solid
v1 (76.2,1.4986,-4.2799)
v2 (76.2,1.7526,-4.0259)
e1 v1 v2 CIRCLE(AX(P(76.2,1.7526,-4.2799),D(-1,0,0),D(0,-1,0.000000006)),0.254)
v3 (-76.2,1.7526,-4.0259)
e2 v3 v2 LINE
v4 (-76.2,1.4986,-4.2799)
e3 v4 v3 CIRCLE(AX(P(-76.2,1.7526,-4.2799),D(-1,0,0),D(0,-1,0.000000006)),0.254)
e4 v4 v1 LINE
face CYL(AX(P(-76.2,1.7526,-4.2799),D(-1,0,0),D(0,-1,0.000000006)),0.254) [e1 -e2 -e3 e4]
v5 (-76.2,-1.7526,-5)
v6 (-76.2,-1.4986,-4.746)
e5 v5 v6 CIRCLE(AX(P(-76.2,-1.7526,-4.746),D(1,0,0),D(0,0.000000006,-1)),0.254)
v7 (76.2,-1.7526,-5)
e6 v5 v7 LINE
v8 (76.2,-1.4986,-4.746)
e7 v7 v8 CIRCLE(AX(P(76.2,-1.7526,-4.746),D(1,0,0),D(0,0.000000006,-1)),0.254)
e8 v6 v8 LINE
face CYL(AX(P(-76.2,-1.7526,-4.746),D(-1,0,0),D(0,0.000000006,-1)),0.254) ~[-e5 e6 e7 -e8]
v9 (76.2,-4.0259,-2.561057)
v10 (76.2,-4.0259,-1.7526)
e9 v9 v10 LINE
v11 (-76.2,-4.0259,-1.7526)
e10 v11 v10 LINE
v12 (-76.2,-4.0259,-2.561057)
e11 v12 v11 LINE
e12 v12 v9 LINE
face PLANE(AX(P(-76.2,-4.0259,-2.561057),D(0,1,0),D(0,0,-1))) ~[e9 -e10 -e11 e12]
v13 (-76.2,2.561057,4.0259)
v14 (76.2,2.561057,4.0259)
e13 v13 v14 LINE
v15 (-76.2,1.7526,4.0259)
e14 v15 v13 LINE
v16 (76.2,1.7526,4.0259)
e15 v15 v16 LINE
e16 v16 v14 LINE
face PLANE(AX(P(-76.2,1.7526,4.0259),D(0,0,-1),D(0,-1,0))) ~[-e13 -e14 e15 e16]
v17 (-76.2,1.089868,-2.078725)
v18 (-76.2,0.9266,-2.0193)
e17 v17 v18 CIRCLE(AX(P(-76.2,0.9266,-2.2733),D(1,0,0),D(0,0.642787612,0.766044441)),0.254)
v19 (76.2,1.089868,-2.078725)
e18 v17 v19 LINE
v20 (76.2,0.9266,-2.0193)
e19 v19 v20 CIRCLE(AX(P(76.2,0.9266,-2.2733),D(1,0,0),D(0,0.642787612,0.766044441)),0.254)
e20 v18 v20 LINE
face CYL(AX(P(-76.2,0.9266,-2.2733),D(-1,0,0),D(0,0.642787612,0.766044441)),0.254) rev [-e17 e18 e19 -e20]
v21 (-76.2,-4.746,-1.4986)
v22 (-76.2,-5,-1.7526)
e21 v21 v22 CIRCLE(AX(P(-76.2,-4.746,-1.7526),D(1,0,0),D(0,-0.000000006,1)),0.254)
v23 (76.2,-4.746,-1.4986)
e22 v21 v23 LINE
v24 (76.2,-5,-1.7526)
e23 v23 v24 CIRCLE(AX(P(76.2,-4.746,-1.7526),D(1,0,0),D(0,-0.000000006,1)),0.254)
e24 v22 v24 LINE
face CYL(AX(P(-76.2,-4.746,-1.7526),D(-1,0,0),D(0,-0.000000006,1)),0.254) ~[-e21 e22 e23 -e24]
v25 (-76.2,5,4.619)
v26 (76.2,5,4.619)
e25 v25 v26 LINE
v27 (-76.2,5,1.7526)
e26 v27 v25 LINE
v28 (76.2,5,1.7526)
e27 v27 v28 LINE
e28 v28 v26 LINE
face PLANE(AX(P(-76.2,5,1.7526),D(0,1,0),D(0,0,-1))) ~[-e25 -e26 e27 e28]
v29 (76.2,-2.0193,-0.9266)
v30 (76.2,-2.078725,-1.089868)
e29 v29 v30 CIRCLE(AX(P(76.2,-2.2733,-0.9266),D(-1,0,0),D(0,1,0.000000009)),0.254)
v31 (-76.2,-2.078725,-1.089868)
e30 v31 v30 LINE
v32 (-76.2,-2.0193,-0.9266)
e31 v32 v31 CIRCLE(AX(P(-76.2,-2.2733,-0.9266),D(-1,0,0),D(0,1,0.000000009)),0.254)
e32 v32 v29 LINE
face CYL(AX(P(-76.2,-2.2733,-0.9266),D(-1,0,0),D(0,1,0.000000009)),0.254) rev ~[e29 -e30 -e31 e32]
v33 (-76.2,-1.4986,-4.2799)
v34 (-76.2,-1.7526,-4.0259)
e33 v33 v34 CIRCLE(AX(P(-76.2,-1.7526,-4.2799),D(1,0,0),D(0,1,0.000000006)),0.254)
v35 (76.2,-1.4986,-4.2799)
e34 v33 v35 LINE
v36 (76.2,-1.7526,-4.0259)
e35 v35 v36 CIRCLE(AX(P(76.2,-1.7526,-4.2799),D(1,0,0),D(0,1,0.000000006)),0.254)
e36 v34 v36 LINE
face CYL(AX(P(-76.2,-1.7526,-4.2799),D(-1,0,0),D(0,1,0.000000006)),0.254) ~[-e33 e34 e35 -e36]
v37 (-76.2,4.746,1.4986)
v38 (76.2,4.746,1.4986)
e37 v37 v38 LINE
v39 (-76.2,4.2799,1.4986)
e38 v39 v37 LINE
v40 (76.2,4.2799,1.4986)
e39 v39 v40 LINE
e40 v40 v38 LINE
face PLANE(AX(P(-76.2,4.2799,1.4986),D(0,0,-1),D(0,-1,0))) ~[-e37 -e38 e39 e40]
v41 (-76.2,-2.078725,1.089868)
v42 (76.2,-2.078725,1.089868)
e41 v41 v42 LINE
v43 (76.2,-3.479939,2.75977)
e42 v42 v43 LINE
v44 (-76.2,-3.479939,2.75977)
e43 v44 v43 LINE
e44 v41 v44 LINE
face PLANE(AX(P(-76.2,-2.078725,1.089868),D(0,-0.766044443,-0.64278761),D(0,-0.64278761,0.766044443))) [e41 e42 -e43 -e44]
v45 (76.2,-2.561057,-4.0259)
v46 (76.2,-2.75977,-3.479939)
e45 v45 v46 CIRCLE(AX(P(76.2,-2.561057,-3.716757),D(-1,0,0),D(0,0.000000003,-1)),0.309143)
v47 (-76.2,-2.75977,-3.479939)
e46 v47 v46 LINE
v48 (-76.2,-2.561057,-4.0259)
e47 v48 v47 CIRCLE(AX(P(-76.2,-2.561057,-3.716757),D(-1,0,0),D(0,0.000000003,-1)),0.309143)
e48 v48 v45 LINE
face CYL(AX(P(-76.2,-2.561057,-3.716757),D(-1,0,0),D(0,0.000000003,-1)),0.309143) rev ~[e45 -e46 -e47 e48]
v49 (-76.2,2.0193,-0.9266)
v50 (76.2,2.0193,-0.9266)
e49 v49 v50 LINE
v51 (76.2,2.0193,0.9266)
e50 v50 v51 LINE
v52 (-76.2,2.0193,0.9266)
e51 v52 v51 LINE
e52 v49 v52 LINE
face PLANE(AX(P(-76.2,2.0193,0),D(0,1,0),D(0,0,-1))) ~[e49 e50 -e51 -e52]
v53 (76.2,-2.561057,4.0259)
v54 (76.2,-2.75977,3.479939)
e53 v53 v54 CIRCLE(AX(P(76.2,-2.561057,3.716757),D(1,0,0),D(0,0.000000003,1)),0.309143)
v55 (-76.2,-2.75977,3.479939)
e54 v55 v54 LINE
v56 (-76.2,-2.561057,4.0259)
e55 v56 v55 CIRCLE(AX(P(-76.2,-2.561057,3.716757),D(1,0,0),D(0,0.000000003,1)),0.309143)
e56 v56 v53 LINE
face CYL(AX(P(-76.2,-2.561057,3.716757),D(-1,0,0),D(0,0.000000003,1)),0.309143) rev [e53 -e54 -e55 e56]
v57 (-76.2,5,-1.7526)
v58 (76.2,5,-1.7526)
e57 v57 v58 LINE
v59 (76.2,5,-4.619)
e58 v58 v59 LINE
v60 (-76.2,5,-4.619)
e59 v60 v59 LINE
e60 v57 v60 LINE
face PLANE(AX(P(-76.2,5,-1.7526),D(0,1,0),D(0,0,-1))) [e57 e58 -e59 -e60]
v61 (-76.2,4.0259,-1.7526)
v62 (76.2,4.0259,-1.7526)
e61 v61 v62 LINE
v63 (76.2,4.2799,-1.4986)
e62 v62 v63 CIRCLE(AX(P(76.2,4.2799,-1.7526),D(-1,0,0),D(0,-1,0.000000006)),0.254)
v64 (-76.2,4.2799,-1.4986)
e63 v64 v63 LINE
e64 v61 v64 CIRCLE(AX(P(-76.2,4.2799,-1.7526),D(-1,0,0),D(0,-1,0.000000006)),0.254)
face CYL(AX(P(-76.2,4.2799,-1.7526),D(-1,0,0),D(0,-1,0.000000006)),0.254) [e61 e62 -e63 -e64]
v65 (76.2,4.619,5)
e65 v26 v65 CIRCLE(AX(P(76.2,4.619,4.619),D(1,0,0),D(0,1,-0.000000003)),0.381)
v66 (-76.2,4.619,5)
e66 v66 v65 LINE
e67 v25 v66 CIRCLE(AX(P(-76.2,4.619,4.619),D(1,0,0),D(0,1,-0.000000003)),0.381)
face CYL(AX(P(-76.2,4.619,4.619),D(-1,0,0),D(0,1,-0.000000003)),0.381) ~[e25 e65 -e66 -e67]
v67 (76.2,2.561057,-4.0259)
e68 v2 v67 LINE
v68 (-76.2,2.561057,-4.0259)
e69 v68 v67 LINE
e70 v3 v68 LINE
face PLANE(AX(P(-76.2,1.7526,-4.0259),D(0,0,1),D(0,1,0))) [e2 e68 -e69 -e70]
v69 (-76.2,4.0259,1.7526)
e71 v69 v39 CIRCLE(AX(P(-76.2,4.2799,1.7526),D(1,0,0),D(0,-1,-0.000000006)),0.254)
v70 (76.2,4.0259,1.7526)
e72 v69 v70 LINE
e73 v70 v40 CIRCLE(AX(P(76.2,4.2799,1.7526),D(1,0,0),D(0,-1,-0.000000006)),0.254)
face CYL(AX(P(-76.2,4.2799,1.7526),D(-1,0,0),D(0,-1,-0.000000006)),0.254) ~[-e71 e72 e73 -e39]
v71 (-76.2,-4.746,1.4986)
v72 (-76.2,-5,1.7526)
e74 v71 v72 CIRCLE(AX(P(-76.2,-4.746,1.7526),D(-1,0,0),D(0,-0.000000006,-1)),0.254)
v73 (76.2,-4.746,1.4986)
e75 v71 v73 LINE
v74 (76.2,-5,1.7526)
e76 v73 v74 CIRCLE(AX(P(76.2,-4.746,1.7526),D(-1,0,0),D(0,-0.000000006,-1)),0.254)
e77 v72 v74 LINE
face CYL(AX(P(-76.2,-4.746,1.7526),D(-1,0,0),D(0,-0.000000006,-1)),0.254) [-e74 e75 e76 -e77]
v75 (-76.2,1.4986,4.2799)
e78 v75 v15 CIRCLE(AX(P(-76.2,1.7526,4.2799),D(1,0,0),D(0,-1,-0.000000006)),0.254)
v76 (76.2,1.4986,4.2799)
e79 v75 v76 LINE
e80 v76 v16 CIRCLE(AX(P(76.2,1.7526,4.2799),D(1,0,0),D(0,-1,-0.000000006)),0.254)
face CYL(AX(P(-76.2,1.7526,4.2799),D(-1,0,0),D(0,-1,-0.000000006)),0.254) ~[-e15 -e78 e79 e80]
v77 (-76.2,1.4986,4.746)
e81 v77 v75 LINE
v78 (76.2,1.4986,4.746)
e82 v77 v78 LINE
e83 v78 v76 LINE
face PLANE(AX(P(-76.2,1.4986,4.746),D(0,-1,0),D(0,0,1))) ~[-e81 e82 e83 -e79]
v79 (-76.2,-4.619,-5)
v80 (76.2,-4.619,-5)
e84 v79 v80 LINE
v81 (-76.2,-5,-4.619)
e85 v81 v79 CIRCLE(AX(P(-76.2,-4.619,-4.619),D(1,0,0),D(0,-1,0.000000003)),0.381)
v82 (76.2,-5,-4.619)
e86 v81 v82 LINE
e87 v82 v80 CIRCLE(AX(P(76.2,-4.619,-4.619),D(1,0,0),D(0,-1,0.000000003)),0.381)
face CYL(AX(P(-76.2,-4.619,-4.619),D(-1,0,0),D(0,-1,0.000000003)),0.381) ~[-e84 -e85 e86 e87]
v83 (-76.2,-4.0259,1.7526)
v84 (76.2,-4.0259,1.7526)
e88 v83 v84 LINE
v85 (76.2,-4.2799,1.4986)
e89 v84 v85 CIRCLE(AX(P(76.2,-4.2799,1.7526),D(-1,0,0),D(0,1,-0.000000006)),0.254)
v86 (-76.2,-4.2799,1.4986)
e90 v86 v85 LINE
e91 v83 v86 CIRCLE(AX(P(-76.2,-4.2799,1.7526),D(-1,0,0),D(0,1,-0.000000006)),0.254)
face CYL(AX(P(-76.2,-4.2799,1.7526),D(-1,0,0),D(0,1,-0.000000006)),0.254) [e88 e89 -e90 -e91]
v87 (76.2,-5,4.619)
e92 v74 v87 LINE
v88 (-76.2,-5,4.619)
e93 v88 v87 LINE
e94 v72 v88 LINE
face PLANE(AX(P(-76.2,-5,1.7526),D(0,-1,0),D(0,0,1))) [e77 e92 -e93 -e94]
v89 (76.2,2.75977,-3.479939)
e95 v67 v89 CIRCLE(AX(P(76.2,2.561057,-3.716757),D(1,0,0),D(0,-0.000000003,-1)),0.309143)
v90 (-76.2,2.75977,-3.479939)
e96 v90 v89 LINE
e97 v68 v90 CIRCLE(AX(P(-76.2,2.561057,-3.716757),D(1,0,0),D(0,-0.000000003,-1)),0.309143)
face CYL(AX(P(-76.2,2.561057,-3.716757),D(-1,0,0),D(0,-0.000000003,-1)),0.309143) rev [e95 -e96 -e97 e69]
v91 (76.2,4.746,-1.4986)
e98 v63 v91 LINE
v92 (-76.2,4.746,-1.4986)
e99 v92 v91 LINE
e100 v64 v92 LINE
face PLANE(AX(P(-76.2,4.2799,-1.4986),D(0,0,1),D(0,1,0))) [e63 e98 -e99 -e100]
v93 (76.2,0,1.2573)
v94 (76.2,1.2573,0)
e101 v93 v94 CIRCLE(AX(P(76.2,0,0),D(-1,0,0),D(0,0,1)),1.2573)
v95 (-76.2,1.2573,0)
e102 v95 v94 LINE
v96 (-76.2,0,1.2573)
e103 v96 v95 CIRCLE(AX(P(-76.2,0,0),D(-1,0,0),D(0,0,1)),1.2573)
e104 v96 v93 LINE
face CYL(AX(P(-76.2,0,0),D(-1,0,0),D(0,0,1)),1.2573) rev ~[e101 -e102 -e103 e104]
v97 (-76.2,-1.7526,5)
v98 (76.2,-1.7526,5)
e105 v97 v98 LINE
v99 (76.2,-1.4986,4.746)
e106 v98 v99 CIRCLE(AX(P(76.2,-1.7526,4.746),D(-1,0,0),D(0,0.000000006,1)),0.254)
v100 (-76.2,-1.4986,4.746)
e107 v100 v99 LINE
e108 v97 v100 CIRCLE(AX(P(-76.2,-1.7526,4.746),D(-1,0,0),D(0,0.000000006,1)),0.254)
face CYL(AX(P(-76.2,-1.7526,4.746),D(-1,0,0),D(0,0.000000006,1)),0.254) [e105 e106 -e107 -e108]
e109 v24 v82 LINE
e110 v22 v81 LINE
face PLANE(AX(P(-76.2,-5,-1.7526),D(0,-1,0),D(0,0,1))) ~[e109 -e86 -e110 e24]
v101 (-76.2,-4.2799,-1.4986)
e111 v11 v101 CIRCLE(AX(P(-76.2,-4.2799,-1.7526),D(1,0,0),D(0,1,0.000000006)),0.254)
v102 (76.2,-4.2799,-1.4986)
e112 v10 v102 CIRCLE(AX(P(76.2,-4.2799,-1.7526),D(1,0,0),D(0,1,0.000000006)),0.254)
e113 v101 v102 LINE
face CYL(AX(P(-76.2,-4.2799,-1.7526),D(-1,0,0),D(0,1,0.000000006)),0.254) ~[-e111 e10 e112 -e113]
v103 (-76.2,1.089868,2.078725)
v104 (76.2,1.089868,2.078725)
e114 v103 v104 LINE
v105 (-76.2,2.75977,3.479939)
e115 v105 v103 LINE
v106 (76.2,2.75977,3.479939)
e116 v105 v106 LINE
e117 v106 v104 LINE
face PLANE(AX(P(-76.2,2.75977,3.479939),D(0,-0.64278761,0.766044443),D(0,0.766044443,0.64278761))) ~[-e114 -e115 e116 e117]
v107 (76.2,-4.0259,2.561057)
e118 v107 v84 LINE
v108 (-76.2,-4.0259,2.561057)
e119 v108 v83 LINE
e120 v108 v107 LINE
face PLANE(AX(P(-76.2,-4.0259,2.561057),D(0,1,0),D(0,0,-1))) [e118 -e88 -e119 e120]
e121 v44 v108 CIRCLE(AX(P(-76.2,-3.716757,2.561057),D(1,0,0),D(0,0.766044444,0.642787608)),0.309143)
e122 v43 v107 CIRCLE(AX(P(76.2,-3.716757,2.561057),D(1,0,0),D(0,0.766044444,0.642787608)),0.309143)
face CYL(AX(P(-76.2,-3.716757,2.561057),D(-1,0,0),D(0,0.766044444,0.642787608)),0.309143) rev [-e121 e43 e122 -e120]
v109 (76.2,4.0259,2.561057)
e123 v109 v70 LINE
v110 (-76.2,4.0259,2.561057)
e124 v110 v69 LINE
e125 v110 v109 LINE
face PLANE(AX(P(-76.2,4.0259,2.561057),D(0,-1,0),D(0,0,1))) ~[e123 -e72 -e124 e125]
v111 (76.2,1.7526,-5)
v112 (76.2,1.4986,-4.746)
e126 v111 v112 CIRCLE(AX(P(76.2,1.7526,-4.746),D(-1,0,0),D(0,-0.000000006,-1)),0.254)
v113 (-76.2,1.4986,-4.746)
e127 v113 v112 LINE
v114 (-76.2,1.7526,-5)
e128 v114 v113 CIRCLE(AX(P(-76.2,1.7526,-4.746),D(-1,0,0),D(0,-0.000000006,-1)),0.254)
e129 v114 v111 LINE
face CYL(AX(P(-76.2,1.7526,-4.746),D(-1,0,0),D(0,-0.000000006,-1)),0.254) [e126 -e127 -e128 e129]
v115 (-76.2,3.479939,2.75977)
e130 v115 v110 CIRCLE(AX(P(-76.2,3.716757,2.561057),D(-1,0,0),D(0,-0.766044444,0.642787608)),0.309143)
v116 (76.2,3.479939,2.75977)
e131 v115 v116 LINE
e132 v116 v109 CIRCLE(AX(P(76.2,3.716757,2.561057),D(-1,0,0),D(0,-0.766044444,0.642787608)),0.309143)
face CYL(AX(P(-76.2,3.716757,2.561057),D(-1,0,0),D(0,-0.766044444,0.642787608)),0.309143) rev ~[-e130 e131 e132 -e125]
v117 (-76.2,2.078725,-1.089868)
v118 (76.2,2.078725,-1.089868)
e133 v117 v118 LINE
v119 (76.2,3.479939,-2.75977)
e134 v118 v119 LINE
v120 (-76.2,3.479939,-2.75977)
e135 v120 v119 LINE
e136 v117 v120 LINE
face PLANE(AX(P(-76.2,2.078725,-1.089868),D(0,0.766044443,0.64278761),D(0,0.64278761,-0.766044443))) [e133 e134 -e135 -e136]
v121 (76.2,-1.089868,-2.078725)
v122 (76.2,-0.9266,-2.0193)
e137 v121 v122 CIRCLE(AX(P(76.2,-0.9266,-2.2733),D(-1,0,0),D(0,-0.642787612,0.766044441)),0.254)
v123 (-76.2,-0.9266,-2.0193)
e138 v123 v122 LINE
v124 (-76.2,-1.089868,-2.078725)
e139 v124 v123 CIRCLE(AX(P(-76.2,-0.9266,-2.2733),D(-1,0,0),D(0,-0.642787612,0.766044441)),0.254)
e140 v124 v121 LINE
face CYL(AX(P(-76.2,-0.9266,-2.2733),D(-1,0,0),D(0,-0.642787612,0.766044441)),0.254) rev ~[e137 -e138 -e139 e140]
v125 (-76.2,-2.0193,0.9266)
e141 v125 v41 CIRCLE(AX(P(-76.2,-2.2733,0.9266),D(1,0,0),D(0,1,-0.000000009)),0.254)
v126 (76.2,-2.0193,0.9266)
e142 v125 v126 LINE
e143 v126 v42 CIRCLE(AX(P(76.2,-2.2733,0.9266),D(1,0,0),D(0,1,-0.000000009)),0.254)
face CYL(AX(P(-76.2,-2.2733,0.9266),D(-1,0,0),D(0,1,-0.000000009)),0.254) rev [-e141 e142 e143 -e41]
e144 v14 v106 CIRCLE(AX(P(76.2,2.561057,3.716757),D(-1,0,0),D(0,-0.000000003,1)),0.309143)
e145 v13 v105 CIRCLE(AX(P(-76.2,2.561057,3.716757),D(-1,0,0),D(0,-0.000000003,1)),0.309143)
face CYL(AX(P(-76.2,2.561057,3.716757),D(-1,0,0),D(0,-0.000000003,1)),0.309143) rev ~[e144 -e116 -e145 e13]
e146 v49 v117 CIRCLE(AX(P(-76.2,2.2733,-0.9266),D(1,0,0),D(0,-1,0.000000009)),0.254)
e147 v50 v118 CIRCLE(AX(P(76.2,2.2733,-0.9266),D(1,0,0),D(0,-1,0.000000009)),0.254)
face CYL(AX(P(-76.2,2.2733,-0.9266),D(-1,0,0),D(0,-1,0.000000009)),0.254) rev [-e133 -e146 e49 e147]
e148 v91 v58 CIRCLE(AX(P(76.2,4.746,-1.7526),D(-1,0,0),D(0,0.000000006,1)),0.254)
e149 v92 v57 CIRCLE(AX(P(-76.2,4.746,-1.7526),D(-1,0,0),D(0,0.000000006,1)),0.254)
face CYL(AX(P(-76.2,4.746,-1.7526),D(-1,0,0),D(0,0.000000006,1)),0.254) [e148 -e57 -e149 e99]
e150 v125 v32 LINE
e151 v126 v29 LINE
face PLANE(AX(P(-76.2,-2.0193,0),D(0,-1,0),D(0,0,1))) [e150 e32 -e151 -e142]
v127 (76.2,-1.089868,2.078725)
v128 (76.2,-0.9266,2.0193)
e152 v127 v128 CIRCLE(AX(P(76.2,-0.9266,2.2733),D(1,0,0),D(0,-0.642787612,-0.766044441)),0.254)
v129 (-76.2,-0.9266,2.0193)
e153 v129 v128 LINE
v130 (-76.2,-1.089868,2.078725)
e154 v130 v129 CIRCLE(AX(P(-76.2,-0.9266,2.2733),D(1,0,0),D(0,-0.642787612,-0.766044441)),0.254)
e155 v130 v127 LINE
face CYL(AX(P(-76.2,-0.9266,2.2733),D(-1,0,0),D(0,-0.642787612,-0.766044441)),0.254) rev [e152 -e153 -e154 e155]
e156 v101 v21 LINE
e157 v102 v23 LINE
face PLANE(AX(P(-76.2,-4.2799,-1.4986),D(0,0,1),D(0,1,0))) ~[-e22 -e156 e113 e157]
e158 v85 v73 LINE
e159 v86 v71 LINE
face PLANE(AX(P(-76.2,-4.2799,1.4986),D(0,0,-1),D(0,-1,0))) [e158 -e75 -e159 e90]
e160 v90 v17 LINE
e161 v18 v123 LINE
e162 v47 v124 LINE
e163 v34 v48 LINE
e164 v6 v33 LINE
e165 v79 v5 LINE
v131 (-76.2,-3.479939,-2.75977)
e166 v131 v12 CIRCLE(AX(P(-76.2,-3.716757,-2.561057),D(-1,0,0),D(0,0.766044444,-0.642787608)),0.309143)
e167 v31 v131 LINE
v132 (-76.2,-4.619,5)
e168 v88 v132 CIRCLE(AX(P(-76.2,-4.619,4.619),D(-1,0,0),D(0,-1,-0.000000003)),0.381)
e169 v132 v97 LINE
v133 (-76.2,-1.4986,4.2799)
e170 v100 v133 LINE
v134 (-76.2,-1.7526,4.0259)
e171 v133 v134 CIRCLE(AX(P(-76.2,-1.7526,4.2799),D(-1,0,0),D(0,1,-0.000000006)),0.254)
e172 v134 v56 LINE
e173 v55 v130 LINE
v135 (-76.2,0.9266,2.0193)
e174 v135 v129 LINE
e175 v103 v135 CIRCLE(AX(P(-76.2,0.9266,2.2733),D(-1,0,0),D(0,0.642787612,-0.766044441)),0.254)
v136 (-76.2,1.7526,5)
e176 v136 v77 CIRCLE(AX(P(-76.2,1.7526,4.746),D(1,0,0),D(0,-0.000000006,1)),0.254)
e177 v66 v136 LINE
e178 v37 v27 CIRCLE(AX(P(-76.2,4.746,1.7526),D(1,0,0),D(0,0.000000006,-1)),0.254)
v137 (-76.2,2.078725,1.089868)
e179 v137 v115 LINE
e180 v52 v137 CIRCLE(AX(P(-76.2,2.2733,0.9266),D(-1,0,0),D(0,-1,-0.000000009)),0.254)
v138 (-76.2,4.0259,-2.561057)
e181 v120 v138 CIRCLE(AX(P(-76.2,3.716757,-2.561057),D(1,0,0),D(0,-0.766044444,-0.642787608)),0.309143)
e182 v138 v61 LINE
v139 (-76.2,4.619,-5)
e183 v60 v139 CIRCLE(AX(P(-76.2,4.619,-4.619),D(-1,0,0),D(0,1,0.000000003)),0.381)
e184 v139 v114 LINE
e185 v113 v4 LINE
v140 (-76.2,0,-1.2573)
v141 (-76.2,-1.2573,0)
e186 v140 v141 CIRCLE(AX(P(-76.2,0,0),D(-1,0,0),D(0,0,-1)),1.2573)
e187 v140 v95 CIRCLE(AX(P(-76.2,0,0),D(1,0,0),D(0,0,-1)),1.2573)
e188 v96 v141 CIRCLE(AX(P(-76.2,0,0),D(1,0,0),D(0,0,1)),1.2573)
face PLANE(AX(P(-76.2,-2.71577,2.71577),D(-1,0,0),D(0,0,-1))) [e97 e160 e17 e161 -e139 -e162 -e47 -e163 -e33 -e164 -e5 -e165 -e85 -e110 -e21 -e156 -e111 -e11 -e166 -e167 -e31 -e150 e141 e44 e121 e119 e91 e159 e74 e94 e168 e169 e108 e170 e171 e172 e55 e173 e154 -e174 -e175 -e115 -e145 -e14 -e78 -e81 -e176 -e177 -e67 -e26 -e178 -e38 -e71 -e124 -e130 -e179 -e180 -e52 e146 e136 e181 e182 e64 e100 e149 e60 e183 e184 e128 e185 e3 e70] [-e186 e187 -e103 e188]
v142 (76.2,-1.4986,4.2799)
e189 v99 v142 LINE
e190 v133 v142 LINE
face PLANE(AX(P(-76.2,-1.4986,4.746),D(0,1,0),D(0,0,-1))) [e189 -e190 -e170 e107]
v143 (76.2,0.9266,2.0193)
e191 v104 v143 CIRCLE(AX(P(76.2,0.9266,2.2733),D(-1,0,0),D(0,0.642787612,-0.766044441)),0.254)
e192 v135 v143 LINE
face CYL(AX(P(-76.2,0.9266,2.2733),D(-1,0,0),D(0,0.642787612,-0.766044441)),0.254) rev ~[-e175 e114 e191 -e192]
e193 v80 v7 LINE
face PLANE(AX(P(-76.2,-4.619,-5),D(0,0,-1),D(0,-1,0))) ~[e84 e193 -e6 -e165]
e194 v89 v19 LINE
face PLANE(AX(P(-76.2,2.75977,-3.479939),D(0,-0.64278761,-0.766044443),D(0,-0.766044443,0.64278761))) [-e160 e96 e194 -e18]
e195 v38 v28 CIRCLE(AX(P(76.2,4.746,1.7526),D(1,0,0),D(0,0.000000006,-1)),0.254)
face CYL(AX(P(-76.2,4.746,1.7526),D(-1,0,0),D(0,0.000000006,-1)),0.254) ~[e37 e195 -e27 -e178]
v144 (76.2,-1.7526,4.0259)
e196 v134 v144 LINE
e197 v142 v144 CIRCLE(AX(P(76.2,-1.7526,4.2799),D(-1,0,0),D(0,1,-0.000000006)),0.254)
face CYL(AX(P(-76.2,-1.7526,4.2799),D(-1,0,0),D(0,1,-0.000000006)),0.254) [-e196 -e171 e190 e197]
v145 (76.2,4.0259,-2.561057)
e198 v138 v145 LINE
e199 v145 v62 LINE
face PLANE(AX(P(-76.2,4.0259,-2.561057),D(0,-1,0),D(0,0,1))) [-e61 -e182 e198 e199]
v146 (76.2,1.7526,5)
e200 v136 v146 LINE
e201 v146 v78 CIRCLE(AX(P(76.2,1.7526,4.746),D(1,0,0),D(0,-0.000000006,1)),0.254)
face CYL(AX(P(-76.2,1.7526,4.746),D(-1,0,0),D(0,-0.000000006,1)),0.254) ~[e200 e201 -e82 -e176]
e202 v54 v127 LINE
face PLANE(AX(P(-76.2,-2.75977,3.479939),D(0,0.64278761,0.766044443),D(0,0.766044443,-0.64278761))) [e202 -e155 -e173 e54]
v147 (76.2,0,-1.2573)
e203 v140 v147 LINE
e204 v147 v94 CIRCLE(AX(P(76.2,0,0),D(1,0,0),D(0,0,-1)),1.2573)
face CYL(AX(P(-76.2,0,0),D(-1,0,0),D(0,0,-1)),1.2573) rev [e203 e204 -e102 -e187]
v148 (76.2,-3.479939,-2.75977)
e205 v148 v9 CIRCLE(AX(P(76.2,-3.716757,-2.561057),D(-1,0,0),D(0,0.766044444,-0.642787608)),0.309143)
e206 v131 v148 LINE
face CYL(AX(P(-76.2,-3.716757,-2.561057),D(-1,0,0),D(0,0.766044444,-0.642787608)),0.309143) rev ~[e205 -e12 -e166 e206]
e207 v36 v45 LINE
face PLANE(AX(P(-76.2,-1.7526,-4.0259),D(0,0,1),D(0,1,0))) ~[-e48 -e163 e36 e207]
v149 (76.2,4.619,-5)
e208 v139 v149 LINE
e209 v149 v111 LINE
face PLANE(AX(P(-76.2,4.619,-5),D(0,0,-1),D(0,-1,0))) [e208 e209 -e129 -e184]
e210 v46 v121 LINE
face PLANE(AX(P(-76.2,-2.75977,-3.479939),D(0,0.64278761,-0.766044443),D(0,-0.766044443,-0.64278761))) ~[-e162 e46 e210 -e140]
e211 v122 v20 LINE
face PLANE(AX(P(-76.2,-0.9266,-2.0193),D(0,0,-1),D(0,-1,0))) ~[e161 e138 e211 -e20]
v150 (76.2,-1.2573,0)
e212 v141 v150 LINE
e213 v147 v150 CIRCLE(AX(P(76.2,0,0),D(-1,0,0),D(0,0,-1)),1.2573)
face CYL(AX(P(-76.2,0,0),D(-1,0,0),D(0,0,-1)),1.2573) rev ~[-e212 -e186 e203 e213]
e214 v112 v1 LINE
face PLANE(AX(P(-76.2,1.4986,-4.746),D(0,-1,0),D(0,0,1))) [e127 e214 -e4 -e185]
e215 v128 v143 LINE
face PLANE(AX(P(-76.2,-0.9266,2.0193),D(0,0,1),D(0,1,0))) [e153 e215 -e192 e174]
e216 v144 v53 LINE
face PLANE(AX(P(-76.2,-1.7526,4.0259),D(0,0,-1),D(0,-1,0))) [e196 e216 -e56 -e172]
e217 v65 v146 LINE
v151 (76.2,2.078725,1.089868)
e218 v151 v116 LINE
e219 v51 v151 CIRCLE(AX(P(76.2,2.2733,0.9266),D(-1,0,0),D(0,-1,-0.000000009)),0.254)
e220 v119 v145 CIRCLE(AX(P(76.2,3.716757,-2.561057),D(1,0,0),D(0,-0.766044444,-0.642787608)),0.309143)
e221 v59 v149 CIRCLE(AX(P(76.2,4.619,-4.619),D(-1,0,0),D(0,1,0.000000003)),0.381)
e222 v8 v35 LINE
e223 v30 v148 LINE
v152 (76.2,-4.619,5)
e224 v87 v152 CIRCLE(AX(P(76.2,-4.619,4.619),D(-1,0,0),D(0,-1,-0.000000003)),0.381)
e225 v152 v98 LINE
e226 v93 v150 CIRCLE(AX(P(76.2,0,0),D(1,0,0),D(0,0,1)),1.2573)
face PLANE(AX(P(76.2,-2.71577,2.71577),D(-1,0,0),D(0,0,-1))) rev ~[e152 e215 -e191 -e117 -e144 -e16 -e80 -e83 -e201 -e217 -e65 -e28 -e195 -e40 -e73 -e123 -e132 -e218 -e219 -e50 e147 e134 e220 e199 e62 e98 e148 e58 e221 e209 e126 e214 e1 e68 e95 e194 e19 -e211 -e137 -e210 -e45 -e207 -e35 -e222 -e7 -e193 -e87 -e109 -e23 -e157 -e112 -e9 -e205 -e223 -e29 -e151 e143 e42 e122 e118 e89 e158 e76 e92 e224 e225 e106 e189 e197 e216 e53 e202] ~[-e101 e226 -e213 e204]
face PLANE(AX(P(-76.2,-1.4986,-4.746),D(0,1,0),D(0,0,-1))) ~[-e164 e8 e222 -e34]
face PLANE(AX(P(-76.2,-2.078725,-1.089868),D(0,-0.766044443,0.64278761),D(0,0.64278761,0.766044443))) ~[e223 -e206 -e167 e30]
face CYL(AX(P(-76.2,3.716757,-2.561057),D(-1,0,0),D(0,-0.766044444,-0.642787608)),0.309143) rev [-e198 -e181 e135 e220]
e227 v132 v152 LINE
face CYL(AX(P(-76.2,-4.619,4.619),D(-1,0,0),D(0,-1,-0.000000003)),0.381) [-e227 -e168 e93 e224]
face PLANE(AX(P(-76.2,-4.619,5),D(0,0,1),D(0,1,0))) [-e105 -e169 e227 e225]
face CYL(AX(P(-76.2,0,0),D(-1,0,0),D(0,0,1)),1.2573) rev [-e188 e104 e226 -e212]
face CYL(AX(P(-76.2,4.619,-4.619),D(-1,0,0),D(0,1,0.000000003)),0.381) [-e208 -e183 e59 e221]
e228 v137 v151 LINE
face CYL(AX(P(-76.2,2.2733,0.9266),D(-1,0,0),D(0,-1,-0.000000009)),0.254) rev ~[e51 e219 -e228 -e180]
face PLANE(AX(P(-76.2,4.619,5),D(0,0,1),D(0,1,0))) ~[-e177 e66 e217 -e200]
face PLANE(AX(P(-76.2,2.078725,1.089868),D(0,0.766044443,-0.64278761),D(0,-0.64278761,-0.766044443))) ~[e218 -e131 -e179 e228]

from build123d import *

# Parameters (mm, degrees)
BOSS_EXTRUDE1_START = -76.2
BOSS_EXTRUDE1_DEPTH = 152.4


with BuildPart() as part:
    # Sketch4 → Boss-Extrude1 (new body)
    with BuildSketch(Plane(origin=(0, 0, 0), x_dir=(0, 0, -1), z_dir=(1, 0, 0)).offset(BOSS_EXTRUDE1_START)):
        with BuildLine():
            Line((0, 1.2573), (0, 2.0193))
            Line((0, 2.0193), (0.92659956, 2.0193))
            ThreePointArc((0.92659956, 2.0193), (1.013472677, 2.034618074), (1.089867613, 2.078724711))
            Line((1.089867613, 2.078724711), (2.759770219, 3.479939372))
            ThreePointArc((2.759770219, 3.479939372), (2.851556384, 3.822490003), (2.561056801, 4.0259))
            Line((2.561056801, 4.0259), (1.7526, 4.0259))
            ThreePointArc((1.7526, 4.0259), (1.572994878, 4.100294878), (1.4986, 4.2799))
            Line((1.4986, 4.2799), (1.4986, 4.746))
            ThreePointArc((1.4986, 4.746), (1.572994878, 4.925605122), (1.7526, 5))
            Line((1.7526, 5), (4.619, 5))
            ThreePointArc((4.619, 5), (4.888407684, 4.888407684), (5, 4.619))
            Line((5, 4.619), (5, 1.7526))
            ThreePointArc((5, 1.7526), (4.925605122, 1.572994878), (4.746, 1.4986))
            Line((4.746, 1.4986), (4.2799, 1.4986))
            ThreePointArc((4.2799, 1.4986), (4.100294878, 1.572994878), (4.0259, 1.7526))
            Line((4.0259, 1.7526), (4.0259, 2.561056801))
            ThreePointArc((4.0259, 2.561056801), (3.822490003, 2.851556384), (3.479939372, 2.759770219))
            Line((3.479939372, 2.759770219), (2.078724711, 1.089867613))
            ThreePointArc((2.078724711, 1.089867613), (2.034618074, 1.013472677), (2.0193, 0.92659956))
            Line((2.0193, 0.92659956), (2.0193, 0))
            Line((2.0193, 0), (1.2573, 0))
            ThreePointArc((1.2573, 0), (0.889045356, 0.889045356), (0, 1.2573))
        make_face()
    extrude(amount=BOSS_EXTRUDE1_DEPTH)

    # Mirror1: part across plane


with BuildPart() as part_1:
    add(part.part)
    add(part.part.mirror(Plane.ZX))

    # Mirror2: part across plane


with BuildPart() as part_2:
    add(part_1.part)
    add(part_1.part.mirror(Plane.XY))


solid = part_2.part
